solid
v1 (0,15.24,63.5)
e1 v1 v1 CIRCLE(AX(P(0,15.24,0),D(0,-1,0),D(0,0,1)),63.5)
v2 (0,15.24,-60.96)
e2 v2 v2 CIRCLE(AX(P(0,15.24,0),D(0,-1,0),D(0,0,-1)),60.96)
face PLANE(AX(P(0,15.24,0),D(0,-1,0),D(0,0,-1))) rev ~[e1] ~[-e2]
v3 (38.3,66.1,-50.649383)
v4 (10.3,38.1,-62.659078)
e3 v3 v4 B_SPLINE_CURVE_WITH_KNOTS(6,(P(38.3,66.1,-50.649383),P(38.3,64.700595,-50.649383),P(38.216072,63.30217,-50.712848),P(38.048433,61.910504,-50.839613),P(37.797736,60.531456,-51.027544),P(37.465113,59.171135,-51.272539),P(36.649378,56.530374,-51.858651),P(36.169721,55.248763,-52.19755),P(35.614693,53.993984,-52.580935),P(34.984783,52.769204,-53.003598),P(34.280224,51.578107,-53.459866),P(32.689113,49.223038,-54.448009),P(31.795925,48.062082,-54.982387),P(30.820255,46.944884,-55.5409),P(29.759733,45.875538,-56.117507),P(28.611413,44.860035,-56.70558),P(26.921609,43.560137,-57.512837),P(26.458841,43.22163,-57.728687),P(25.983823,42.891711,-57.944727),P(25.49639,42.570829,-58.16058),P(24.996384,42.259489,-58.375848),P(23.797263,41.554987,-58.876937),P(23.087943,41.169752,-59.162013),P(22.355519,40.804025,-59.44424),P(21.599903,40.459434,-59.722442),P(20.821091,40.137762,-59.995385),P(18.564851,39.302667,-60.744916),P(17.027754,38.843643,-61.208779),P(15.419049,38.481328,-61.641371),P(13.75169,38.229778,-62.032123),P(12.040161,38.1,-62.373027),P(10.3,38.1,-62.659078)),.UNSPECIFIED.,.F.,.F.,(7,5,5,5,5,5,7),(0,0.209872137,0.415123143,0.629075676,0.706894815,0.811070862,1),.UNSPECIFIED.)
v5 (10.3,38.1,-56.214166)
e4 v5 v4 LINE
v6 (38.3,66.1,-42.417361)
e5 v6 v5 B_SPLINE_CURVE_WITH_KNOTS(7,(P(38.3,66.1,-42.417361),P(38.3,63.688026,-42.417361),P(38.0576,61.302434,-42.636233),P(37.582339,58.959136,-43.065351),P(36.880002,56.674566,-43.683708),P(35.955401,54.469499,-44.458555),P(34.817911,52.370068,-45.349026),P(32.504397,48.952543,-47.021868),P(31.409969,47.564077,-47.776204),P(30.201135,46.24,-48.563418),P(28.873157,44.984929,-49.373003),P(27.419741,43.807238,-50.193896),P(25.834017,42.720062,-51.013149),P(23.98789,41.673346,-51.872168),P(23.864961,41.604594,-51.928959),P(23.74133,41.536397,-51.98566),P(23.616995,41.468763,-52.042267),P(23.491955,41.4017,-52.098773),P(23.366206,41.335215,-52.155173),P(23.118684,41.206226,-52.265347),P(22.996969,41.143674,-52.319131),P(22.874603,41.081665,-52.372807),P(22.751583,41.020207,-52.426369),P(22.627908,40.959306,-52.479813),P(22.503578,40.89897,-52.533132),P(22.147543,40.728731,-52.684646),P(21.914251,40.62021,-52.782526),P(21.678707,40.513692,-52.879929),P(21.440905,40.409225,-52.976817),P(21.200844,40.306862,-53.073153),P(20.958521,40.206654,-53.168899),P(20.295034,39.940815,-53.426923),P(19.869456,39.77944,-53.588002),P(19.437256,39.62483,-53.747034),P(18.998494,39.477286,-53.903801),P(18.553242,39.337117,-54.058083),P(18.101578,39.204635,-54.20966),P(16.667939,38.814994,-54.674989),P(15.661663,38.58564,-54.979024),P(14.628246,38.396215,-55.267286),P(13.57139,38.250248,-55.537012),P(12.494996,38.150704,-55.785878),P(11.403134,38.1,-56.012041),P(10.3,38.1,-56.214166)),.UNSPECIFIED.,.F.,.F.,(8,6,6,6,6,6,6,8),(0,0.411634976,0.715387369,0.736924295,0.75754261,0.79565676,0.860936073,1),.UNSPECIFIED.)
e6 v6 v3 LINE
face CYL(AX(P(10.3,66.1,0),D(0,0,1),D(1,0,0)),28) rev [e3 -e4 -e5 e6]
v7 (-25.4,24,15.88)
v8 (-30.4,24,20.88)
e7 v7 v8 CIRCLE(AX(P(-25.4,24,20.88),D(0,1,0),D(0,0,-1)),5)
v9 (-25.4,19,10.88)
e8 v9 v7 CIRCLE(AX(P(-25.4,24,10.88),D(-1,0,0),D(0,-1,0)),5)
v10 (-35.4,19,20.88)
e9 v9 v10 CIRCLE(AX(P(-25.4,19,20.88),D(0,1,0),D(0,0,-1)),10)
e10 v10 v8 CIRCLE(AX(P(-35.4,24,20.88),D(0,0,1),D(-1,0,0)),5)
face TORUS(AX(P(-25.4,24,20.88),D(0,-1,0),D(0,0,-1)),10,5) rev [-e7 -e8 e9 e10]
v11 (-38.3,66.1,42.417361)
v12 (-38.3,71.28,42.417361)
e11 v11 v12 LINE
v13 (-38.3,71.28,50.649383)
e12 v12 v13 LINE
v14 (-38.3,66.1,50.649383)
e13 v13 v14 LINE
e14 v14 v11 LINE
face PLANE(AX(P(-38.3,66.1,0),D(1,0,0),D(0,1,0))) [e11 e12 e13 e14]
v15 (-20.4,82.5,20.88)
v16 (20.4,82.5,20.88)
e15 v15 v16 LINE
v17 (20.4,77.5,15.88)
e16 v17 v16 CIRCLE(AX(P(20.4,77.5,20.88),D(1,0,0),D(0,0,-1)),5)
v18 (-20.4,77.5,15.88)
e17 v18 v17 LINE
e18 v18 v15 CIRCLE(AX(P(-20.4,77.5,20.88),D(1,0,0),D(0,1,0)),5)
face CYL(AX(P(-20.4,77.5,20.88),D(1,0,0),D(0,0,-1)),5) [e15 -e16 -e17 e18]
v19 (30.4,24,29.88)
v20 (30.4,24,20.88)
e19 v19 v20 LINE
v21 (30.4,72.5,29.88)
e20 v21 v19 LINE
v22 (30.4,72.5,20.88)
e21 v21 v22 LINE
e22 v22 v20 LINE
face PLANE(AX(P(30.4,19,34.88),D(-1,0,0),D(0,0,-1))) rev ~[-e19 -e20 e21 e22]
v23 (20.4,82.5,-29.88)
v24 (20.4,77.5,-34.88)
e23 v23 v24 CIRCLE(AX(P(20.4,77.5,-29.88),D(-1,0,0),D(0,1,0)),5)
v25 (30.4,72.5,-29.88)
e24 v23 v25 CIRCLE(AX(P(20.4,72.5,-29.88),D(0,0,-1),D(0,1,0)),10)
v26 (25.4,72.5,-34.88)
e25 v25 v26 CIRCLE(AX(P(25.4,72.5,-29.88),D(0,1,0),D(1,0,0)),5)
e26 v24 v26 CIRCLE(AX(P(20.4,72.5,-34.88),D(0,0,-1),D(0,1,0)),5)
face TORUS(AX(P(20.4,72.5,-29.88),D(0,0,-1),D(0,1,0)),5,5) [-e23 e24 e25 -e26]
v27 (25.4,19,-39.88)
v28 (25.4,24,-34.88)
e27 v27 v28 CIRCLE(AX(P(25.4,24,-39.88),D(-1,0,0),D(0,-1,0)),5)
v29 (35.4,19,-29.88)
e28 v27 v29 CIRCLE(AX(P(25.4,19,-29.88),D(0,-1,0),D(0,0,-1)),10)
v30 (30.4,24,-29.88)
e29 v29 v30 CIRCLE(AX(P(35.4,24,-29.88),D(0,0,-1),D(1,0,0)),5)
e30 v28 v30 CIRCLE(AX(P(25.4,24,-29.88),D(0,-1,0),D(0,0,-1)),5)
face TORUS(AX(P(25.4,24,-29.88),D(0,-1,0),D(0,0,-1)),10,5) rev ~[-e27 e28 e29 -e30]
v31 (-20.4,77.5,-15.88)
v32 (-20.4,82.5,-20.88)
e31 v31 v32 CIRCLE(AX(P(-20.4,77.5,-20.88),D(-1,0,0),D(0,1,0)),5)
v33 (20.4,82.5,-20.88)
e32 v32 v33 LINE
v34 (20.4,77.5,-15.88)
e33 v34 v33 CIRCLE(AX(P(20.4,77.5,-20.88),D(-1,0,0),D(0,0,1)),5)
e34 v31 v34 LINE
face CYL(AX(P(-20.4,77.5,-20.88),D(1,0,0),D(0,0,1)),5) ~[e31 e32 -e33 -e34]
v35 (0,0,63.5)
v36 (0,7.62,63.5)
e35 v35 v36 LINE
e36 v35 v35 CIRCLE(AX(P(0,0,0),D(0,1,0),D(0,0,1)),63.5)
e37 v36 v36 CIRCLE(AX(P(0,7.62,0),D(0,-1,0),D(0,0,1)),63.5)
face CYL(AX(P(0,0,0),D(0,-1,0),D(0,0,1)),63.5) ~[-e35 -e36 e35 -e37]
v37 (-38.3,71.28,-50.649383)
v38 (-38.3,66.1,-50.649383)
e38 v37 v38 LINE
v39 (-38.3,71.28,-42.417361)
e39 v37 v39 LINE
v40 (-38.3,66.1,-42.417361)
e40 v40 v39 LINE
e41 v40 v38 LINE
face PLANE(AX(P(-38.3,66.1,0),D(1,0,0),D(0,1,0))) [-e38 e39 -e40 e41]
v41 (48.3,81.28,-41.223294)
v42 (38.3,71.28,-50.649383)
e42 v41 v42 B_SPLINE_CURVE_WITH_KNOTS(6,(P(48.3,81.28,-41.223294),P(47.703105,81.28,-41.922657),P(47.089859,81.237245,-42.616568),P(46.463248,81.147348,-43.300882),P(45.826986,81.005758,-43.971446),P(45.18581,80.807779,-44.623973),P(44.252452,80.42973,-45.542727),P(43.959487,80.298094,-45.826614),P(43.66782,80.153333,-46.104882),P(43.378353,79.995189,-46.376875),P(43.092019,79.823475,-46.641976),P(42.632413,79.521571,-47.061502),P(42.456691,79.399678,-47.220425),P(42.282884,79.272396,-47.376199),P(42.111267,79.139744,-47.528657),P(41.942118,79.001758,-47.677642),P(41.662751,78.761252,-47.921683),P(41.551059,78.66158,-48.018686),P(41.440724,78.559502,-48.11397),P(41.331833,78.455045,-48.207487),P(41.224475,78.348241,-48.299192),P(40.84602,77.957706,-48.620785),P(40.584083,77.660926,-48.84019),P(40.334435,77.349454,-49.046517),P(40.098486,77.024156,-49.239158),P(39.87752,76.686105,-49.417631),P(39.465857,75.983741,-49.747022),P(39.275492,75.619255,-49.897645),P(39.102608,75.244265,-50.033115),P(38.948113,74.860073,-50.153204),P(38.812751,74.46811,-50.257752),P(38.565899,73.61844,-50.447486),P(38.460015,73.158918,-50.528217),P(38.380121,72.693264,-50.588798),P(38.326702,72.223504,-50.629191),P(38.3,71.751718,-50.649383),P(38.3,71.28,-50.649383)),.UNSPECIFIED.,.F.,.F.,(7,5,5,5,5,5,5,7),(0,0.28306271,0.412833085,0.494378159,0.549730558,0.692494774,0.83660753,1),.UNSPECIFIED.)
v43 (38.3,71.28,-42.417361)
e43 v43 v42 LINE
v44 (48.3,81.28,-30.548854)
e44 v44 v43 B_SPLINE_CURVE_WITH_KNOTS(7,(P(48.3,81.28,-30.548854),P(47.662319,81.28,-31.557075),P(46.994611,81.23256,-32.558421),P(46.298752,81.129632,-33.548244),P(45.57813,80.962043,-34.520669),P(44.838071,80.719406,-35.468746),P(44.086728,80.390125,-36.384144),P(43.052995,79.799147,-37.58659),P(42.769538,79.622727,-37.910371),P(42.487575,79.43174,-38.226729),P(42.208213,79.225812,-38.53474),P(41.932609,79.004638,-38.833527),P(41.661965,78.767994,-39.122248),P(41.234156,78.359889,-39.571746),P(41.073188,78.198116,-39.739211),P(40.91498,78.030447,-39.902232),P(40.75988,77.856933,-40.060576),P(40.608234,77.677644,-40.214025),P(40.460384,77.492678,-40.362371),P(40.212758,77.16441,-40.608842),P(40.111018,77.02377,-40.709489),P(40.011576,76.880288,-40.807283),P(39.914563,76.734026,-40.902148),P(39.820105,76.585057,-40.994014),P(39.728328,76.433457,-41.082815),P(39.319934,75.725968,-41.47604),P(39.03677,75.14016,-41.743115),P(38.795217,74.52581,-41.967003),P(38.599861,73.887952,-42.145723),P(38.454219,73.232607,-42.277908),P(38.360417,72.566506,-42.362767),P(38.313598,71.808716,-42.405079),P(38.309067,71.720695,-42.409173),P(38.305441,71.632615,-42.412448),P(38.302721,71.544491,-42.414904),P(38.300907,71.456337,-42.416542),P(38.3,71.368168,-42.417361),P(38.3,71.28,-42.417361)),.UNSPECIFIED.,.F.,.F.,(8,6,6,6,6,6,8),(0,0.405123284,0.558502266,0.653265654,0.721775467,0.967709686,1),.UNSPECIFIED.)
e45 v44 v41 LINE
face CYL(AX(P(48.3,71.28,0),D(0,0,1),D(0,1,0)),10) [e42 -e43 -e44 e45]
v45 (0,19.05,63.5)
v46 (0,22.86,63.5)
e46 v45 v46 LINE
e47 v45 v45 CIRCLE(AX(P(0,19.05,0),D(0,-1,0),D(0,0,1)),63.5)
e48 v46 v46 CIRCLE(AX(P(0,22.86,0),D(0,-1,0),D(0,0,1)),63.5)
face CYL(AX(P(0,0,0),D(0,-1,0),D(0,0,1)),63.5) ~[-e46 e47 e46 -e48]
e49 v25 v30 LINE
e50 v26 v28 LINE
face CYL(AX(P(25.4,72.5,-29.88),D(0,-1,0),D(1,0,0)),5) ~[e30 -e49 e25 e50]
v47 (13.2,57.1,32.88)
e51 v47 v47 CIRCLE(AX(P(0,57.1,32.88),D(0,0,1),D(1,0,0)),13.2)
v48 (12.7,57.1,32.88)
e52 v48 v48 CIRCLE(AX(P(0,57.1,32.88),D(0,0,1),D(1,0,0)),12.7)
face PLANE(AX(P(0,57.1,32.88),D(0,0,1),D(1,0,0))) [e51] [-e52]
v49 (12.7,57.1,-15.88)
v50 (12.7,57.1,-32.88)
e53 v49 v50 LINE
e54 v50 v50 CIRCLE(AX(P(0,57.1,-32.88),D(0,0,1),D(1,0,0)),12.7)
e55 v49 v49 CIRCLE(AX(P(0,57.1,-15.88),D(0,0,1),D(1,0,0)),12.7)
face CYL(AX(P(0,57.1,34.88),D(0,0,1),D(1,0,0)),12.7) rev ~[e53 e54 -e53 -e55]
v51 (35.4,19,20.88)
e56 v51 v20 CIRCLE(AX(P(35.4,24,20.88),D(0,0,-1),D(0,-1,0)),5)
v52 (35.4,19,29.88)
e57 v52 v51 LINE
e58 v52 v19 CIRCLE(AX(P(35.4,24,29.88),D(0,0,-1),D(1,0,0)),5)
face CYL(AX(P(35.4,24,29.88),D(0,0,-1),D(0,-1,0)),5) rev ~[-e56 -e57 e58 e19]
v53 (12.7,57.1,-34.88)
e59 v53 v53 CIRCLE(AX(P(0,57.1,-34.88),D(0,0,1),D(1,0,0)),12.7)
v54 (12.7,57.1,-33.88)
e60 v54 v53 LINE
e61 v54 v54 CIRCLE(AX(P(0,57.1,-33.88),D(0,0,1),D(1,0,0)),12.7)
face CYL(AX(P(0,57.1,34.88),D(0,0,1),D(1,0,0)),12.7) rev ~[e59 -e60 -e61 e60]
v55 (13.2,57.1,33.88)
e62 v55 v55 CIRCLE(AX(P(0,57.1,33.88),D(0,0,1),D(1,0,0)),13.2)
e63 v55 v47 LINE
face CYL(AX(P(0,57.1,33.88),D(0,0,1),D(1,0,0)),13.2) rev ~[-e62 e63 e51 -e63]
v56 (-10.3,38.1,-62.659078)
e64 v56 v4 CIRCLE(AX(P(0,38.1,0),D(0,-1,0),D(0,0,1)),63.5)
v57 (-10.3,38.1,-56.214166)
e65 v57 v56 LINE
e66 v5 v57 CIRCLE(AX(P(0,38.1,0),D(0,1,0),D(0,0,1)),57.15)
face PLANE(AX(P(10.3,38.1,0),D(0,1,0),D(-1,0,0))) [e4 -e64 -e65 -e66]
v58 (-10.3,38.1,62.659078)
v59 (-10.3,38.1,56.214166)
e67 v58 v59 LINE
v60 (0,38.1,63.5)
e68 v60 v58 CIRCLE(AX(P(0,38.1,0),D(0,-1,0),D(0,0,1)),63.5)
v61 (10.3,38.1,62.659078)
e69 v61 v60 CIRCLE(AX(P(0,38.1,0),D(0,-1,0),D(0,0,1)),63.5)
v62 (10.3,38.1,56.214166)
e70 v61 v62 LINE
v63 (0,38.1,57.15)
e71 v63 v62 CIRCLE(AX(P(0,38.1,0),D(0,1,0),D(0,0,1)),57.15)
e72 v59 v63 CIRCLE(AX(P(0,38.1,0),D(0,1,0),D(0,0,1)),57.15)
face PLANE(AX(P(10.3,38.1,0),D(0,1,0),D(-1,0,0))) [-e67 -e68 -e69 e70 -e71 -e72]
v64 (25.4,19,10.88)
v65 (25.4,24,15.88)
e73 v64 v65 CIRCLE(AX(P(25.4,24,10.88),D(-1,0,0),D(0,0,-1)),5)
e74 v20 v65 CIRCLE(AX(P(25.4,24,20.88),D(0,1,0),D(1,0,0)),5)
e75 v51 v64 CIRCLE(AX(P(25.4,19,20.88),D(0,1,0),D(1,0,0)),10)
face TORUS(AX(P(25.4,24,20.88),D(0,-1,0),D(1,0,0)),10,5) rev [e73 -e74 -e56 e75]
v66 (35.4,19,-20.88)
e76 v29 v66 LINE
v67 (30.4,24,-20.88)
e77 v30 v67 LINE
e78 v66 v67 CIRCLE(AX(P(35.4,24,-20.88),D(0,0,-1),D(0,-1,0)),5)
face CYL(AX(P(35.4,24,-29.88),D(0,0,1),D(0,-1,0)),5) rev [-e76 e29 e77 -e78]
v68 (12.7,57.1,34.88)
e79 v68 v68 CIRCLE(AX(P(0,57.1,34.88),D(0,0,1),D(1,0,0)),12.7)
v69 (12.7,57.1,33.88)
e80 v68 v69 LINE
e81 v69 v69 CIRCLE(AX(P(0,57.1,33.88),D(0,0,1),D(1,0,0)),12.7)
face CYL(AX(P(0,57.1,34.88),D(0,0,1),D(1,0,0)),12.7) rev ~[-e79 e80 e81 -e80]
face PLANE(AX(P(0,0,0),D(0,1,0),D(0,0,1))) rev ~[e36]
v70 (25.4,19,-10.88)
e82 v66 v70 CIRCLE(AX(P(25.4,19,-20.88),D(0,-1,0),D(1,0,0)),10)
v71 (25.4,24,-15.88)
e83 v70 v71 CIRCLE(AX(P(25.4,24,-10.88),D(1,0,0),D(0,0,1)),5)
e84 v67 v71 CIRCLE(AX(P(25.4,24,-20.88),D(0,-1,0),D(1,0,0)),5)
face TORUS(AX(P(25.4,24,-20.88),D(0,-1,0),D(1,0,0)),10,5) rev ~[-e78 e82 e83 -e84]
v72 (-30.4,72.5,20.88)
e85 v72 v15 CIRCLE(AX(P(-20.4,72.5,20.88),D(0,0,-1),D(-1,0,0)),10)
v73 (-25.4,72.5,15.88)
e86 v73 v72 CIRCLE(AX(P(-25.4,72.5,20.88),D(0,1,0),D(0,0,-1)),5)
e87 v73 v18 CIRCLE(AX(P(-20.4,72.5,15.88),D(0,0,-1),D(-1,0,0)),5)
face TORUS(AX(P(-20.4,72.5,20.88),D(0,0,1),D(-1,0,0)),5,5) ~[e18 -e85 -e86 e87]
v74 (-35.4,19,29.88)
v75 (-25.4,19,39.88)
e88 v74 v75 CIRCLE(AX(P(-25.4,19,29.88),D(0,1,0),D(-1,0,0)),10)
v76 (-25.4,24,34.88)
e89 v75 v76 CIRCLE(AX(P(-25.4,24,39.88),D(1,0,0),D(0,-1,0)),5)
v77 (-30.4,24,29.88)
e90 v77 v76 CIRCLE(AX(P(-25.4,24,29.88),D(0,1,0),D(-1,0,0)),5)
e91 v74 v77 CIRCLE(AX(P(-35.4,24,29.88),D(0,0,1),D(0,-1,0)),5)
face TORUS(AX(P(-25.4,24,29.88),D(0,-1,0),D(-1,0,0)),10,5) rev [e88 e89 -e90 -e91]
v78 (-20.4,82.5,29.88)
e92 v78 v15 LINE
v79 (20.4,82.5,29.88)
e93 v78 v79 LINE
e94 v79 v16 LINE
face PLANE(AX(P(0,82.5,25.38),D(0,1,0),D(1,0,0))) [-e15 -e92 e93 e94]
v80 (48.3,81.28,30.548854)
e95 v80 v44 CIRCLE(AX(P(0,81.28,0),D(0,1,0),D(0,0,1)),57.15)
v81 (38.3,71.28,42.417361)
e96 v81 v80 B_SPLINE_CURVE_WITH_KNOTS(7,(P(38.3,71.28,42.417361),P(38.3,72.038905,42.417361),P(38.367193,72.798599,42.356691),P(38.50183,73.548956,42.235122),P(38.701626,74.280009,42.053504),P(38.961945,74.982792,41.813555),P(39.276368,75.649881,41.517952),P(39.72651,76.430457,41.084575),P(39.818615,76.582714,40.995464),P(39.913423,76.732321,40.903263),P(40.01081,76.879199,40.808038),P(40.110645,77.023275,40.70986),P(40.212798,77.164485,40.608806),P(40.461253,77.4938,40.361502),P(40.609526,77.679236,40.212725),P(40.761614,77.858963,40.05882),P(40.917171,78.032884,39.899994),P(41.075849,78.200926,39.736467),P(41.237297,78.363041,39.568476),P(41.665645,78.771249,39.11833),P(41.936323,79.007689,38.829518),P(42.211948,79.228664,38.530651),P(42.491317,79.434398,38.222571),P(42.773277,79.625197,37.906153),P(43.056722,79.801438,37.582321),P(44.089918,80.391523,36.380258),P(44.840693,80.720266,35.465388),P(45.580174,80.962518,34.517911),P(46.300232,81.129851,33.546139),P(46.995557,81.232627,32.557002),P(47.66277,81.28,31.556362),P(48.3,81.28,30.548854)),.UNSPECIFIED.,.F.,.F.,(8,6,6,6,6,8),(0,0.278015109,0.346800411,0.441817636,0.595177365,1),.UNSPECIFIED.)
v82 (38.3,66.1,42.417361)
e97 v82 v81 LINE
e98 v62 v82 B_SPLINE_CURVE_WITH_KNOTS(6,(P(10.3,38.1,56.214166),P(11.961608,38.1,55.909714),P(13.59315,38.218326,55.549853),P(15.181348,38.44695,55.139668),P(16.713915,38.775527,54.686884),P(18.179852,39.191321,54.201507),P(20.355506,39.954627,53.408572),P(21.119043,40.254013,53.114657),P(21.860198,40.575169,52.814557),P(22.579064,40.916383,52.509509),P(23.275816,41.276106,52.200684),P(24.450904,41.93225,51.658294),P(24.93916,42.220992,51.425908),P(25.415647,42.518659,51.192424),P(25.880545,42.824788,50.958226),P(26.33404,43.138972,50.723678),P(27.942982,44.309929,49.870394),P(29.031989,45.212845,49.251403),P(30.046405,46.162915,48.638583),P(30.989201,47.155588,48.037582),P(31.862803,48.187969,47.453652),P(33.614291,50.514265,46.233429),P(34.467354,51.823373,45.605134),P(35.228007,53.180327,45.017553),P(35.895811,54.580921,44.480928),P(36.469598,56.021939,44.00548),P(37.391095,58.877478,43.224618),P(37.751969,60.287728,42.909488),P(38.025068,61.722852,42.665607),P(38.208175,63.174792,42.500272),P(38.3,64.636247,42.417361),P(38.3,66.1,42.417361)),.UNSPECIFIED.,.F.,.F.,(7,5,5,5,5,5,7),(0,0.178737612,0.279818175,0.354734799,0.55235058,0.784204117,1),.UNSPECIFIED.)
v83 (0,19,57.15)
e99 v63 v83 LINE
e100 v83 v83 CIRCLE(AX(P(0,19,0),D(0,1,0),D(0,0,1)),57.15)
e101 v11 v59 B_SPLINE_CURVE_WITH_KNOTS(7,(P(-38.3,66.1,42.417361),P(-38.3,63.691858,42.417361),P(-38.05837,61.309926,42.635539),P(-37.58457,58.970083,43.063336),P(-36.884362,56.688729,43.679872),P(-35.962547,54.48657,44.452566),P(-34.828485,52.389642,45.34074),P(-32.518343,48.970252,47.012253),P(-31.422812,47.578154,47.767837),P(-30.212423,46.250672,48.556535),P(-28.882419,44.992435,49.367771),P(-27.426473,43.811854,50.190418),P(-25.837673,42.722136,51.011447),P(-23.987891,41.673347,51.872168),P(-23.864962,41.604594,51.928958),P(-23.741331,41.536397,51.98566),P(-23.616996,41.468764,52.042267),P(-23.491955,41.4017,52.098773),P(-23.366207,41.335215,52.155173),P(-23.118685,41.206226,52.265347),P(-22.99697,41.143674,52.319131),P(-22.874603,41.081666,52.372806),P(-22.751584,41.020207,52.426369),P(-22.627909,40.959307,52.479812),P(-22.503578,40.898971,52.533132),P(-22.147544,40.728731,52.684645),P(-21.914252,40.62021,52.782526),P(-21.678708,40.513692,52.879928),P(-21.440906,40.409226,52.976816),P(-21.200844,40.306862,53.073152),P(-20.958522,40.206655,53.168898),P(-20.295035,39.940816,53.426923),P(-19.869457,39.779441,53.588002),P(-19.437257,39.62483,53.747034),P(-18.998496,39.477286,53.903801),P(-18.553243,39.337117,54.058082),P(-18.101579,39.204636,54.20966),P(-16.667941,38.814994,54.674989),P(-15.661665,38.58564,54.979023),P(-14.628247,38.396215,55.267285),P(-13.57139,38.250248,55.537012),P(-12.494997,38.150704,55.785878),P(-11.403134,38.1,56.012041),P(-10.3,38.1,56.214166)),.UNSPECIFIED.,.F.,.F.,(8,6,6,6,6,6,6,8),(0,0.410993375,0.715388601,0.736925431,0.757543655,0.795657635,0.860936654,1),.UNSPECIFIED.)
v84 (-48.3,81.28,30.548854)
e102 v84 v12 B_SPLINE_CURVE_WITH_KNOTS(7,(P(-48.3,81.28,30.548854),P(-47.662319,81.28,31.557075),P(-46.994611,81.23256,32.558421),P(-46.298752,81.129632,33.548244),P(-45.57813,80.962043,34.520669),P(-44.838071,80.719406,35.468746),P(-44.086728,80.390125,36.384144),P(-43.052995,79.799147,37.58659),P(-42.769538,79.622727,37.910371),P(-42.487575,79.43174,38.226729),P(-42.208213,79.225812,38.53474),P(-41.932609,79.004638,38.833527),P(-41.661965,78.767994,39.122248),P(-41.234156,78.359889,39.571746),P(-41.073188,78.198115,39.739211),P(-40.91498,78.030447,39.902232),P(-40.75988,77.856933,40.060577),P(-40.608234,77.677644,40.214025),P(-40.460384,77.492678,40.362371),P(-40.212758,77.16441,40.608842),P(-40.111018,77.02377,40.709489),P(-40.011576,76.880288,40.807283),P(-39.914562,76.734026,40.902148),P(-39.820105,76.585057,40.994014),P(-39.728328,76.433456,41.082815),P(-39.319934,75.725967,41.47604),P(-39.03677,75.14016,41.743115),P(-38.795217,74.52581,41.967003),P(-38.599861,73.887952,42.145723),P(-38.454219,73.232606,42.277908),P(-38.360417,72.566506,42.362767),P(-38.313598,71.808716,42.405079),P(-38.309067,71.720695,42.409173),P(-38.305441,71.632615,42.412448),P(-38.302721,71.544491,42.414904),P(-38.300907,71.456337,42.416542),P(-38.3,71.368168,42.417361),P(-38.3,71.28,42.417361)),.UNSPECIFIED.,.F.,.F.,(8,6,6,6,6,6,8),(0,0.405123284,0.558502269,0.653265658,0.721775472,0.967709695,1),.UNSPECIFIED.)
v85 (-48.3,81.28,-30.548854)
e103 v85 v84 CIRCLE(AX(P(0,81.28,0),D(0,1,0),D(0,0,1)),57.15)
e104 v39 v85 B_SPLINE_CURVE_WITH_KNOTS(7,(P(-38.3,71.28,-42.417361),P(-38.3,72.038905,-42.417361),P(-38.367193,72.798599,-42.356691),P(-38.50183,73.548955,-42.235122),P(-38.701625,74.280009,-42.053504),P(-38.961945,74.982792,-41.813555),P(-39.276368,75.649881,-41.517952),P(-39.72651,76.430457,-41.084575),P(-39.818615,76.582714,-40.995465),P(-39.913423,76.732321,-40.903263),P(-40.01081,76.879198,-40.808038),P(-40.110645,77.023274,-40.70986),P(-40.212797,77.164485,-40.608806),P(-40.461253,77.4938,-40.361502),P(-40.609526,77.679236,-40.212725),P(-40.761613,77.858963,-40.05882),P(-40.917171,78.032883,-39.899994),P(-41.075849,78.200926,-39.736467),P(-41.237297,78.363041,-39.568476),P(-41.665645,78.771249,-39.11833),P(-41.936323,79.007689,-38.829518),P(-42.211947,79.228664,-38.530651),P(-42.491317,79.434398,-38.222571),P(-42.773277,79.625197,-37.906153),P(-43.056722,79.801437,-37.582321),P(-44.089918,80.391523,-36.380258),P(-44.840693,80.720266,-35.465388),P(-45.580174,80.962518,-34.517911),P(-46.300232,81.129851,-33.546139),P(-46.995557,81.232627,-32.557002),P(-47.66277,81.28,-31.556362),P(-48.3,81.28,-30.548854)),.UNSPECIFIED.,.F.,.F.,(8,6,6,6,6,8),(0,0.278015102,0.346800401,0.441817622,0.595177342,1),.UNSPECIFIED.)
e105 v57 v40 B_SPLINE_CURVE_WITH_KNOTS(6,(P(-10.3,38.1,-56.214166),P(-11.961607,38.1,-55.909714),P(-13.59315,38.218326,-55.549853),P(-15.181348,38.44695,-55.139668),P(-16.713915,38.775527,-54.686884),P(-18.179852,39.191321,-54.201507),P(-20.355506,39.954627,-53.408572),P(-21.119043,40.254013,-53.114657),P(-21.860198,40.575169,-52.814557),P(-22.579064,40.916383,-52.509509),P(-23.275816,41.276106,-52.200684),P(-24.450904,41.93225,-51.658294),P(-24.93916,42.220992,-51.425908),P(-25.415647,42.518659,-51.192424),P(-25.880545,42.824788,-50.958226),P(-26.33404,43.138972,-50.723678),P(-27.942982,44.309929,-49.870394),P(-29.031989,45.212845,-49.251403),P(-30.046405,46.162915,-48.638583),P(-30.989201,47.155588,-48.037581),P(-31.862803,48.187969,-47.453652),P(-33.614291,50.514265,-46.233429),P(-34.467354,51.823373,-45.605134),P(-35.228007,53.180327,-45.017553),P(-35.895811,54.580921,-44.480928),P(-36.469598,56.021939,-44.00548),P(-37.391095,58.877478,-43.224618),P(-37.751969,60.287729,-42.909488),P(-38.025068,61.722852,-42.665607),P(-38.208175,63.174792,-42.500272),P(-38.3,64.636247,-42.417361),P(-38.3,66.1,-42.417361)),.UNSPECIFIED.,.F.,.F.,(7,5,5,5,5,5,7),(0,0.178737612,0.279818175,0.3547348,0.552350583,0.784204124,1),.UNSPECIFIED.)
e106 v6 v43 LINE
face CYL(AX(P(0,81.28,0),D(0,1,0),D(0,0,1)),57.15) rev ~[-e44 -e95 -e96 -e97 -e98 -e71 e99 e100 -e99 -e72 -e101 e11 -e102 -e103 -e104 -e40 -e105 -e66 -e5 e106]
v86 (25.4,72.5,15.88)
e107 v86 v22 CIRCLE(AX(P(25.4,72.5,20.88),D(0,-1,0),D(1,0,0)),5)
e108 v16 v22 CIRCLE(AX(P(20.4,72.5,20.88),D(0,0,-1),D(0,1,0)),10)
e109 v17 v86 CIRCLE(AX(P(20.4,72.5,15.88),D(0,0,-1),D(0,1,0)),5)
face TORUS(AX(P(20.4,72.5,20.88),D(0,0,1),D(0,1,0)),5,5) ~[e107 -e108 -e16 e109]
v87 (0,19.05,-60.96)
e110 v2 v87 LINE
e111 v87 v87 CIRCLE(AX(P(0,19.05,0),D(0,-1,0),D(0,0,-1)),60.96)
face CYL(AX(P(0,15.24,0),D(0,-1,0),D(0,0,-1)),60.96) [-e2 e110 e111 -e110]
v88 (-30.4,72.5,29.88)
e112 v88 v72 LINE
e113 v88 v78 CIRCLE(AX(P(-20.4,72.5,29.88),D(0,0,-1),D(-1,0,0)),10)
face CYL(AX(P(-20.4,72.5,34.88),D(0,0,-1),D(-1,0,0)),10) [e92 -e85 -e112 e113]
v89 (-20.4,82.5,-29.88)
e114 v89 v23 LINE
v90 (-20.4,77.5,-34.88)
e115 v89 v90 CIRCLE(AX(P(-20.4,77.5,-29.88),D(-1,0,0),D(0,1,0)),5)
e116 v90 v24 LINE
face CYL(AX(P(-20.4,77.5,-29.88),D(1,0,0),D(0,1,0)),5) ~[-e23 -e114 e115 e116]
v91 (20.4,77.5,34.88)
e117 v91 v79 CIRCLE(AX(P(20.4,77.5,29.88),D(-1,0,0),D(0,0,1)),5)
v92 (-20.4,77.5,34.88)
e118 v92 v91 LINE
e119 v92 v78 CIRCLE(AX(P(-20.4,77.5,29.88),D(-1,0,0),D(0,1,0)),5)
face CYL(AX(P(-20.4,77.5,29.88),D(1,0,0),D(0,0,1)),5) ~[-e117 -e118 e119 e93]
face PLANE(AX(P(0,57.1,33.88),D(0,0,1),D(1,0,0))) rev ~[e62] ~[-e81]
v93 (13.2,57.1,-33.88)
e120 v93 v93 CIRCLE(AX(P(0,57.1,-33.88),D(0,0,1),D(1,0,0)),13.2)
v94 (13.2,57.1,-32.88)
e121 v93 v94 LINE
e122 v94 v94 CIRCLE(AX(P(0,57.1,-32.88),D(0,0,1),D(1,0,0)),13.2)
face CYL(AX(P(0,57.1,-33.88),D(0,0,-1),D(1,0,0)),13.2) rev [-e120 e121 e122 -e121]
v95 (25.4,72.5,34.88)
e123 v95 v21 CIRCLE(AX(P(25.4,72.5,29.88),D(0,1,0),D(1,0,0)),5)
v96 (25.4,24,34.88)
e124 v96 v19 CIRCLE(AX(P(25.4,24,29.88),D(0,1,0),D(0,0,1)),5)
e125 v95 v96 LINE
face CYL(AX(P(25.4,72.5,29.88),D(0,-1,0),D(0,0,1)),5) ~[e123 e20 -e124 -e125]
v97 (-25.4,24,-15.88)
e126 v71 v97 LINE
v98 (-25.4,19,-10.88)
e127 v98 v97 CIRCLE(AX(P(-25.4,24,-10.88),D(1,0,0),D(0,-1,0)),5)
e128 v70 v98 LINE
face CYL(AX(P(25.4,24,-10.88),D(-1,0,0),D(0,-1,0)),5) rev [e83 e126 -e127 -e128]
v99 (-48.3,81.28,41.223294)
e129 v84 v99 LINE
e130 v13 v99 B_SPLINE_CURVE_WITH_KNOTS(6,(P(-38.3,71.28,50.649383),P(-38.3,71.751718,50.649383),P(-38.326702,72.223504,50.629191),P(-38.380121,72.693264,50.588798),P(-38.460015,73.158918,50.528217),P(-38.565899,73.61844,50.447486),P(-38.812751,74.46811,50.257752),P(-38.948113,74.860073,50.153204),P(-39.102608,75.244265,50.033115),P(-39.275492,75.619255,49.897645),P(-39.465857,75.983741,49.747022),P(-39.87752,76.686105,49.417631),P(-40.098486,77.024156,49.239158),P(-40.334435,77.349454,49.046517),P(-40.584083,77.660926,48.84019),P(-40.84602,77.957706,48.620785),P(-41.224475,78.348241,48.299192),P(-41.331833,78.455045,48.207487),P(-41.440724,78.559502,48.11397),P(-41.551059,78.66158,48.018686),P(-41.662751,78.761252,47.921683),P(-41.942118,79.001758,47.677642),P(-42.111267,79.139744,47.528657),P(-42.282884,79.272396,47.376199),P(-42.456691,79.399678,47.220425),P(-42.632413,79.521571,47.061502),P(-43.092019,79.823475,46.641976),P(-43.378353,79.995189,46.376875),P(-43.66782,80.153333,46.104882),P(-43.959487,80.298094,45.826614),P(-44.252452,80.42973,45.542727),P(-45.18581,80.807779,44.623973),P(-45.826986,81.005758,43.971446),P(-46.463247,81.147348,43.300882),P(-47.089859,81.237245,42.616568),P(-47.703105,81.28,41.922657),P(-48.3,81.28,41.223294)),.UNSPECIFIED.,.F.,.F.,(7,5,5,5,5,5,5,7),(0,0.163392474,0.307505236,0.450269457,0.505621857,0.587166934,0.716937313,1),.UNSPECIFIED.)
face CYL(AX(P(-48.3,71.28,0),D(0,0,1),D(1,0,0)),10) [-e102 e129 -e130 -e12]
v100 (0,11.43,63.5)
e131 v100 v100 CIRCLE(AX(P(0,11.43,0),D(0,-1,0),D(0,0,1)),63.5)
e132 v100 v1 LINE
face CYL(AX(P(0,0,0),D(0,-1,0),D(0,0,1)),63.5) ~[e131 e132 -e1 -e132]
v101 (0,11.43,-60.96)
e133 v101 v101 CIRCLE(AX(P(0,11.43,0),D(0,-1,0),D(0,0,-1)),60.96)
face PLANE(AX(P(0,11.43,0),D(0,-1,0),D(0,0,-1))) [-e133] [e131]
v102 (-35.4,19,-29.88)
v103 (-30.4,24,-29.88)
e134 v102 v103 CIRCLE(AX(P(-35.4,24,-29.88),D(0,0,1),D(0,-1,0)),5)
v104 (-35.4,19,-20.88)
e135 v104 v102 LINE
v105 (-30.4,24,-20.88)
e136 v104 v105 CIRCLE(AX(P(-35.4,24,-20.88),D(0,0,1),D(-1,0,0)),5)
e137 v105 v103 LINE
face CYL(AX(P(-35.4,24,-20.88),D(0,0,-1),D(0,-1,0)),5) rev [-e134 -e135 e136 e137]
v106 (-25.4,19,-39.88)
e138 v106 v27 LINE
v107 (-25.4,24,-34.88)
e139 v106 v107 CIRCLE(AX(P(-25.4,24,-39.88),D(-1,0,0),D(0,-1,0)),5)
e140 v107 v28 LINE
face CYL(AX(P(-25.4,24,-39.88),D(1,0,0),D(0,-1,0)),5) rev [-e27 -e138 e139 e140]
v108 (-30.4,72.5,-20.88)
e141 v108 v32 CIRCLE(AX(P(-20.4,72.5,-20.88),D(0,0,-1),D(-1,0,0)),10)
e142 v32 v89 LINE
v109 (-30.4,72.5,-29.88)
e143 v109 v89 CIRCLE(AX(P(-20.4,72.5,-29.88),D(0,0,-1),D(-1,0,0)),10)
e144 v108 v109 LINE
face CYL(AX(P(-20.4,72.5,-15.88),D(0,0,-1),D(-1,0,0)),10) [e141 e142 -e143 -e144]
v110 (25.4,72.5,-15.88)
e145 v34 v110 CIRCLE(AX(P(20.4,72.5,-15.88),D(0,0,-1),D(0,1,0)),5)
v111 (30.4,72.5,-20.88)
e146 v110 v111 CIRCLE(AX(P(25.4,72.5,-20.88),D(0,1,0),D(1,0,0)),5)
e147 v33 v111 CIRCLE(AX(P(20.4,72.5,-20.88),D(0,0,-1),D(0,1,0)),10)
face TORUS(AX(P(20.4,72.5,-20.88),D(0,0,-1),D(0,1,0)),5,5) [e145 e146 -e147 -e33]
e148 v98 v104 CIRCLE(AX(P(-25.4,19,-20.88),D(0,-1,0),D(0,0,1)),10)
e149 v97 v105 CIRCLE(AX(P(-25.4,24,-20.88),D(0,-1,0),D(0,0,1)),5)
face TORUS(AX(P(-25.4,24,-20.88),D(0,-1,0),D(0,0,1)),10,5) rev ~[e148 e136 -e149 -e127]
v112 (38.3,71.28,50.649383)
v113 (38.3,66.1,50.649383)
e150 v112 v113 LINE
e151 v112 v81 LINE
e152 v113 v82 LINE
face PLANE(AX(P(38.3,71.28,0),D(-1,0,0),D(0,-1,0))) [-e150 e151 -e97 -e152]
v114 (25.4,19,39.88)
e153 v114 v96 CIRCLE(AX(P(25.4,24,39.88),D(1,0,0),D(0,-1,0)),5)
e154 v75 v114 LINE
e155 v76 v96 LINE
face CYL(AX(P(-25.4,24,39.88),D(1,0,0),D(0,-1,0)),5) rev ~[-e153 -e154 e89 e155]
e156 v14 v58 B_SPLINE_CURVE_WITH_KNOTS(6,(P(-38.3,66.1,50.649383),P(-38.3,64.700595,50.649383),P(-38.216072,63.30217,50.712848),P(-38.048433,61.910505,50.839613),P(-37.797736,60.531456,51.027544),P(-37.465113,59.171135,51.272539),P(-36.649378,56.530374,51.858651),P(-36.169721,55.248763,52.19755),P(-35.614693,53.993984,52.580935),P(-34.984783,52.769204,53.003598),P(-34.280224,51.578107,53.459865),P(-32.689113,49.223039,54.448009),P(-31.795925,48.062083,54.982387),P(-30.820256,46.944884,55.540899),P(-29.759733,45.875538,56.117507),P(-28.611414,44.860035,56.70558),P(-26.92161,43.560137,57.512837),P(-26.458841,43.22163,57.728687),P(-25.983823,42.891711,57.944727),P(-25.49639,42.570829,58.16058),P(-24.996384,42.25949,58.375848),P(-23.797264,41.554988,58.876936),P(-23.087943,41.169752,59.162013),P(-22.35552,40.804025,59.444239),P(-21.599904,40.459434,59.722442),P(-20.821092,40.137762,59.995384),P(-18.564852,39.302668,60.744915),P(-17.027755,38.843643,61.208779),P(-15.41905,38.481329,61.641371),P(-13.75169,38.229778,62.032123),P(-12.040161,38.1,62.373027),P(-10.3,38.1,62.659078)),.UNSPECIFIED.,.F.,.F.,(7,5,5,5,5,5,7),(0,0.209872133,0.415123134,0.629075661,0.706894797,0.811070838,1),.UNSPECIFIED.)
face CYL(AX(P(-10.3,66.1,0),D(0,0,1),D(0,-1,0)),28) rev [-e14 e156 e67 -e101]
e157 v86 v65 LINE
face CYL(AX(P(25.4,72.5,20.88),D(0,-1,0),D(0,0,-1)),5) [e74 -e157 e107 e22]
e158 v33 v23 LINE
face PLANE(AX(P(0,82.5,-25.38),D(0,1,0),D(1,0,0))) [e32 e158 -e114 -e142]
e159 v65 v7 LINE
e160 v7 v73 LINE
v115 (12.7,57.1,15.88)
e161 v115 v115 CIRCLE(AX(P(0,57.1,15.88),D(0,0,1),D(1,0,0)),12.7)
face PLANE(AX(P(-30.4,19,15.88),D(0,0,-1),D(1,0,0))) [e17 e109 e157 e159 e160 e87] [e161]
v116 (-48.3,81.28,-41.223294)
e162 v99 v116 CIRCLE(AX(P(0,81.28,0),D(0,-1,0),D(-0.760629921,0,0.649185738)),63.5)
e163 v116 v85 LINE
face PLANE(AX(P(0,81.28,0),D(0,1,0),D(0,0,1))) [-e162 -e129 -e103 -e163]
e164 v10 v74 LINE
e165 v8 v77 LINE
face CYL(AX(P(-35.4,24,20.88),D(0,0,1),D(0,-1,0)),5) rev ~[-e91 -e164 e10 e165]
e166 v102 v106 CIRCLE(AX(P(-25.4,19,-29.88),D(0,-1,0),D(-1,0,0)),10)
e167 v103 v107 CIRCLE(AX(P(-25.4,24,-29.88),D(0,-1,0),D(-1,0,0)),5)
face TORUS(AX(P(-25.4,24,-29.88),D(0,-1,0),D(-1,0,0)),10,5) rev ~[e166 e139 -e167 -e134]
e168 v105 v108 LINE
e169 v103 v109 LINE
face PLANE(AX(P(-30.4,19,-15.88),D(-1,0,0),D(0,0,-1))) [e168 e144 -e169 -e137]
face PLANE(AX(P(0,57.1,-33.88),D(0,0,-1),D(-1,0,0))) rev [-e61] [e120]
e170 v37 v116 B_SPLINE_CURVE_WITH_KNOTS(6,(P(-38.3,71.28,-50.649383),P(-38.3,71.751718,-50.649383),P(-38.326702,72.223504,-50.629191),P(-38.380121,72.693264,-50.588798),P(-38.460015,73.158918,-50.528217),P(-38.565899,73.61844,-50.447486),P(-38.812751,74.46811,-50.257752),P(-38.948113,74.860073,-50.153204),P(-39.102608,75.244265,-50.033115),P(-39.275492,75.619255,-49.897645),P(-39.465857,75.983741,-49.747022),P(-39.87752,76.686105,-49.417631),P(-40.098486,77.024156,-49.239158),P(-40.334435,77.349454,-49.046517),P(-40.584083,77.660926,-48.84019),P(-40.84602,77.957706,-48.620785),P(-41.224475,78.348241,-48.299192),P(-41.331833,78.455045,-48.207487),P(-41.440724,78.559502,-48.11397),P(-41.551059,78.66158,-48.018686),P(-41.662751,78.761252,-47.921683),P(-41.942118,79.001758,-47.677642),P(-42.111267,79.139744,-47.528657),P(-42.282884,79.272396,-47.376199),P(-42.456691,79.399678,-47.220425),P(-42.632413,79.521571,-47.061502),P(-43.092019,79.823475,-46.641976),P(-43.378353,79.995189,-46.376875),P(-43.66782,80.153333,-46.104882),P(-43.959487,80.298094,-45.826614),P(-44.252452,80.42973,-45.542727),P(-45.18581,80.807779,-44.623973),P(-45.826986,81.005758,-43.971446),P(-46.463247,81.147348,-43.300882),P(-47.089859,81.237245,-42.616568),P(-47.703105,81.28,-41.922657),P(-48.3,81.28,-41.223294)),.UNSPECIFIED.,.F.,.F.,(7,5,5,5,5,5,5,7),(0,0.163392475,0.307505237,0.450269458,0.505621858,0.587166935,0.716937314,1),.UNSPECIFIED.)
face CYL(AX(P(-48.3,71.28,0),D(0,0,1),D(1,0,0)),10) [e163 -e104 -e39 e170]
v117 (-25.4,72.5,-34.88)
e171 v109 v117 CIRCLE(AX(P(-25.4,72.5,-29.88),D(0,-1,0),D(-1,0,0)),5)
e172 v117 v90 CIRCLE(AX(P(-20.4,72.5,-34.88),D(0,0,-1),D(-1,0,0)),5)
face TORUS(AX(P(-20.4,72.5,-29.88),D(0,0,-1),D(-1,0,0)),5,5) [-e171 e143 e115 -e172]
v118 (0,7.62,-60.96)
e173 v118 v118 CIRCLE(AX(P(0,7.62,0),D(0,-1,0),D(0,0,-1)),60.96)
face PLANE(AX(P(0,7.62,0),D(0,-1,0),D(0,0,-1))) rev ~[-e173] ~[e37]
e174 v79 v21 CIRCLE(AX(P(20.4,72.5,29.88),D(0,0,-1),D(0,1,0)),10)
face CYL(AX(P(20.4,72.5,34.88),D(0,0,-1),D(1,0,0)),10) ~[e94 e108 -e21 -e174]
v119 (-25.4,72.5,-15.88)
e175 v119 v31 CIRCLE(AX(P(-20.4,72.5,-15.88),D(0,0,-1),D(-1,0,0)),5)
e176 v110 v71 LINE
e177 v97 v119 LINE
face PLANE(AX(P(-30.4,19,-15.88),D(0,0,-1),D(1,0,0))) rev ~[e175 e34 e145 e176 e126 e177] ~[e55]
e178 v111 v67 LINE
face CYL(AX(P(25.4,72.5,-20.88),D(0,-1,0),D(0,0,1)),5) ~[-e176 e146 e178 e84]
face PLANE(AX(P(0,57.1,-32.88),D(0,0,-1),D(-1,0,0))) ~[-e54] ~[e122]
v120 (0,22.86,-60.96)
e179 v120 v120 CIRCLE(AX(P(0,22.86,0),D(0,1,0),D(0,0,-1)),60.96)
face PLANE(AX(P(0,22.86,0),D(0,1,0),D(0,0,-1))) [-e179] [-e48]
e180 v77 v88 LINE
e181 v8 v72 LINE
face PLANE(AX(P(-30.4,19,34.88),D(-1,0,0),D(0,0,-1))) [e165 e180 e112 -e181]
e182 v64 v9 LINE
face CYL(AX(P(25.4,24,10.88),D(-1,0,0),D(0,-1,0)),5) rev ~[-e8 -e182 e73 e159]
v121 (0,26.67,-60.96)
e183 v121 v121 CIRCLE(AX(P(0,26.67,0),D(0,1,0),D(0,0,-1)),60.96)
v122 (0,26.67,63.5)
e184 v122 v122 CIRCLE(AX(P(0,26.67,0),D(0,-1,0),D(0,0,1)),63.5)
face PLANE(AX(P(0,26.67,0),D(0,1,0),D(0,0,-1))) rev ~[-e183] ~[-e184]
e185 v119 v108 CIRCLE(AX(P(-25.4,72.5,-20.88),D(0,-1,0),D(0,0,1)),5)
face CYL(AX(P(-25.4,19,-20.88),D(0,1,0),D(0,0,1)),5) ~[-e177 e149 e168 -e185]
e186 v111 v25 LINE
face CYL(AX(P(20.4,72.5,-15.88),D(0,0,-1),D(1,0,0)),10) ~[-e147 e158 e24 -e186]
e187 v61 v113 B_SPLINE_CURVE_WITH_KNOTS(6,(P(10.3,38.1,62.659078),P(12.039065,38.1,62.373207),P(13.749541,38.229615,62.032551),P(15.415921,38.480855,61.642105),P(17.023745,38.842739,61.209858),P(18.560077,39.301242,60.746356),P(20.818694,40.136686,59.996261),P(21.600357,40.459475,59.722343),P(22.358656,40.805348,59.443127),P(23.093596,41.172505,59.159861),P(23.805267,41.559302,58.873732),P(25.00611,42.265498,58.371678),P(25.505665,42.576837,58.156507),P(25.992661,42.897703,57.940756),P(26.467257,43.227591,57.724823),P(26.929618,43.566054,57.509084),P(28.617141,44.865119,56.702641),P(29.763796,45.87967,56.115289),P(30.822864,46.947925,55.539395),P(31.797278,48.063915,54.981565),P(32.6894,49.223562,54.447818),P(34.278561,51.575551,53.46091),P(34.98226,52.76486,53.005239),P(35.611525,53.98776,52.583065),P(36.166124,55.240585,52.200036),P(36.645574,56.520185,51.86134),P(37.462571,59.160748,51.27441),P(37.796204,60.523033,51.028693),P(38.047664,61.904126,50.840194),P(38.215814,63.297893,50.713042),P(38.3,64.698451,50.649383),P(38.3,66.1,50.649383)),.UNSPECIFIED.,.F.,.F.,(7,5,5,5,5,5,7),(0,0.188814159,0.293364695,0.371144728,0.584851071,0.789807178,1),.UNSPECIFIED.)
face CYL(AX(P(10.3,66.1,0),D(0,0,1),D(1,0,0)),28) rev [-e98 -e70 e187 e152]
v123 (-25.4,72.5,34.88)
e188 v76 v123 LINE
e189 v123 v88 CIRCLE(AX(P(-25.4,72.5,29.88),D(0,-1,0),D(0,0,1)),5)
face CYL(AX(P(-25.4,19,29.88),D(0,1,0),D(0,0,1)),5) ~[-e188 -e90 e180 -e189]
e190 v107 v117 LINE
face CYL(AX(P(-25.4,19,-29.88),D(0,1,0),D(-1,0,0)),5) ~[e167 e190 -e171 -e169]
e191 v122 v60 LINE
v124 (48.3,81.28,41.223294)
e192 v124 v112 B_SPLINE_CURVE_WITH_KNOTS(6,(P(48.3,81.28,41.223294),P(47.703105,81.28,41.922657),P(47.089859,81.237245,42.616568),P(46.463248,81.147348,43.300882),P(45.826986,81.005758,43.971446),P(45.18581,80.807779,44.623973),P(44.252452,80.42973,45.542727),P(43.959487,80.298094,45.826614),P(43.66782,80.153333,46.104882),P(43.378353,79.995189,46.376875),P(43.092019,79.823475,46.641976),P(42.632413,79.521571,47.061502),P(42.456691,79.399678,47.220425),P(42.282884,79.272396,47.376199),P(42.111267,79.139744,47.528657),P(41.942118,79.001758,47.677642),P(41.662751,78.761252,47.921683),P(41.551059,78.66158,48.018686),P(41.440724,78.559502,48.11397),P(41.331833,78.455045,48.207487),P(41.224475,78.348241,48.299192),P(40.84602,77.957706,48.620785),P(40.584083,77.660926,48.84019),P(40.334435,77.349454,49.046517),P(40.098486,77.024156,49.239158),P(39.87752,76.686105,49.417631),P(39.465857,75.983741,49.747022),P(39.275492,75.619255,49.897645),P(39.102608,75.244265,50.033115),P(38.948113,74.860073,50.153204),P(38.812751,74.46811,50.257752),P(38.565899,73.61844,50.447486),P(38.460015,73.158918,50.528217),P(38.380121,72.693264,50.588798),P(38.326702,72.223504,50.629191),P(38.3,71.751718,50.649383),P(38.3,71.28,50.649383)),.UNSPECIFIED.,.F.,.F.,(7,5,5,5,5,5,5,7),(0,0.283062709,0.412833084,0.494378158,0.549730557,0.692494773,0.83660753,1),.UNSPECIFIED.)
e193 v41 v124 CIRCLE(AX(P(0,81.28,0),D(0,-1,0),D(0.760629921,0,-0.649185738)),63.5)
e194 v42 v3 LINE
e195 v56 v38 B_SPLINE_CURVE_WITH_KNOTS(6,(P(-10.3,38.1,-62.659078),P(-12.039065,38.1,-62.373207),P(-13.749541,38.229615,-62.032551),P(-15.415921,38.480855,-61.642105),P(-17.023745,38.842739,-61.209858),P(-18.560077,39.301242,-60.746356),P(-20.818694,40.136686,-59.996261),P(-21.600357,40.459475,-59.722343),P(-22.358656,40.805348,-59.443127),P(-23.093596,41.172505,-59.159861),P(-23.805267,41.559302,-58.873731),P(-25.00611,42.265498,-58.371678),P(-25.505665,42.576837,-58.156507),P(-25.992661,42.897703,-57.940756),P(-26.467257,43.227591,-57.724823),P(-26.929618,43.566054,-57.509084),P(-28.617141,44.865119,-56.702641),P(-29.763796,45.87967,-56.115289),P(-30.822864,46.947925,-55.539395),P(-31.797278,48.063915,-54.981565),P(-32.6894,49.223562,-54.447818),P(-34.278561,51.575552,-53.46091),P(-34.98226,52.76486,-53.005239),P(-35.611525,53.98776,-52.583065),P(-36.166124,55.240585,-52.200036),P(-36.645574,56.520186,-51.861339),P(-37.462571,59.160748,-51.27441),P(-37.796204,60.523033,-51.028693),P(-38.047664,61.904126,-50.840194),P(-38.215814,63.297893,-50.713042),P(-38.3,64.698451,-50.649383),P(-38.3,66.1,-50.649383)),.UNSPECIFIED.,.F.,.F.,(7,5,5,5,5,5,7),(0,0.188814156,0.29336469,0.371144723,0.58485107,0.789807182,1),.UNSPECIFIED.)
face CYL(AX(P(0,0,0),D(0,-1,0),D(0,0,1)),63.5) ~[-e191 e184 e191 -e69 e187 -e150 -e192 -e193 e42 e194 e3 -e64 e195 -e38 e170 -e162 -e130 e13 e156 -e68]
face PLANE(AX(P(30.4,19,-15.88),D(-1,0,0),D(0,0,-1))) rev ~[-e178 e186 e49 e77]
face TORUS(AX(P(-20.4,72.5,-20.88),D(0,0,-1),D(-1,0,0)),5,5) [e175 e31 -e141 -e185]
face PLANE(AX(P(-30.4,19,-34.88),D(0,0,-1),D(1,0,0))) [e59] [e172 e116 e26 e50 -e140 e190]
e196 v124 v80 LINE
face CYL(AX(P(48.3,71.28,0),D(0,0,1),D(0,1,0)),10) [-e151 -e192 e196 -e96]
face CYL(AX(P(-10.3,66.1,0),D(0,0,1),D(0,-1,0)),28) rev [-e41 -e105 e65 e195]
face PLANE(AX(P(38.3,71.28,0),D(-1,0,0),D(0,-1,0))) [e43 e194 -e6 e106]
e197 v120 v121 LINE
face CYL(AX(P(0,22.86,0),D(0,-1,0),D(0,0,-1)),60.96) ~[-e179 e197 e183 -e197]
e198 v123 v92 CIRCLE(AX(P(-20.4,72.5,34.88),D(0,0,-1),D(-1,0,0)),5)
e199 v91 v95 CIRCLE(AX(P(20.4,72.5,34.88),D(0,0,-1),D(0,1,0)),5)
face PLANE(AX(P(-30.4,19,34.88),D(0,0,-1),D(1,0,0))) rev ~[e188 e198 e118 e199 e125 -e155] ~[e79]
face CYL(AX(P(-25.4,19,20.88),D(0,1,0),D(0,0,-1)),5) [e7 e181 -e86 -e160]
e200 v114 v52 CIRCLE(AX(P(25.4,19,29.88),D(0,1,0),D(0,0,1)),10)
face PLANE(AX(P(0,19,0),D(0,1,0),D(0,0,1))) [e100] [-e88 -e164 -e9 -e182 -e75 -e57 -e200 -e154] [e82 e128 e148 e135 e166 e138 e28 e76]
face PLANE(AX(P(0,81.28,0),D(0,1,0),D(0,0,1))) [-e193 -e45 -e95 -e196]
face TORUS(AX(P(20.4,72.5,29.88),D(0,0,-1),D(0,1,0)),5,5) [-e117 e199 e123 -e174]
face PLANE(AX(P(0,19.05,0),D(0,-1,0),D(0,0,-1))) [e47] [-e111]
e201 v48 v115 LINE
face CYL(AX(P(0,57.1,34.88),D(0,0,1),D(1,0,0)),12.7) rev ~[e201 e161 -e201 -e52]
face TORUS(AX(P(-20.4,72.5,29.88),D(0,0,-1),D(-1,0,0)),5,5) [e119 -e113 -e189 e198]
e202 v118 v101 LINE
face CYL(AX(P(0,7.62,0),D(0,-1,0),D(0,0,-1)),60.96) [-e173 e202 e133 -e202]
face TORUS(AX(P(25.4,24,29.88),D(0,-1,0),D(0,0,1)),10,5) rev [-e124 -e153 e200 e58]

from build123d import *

# Parameters (mm, degrees)
SZKIC1_R                    = 63.5
DODANIE_WYCI_GNI_CIE2_DEPTH = 81.28
SZKIC2_R                    = 57.15
WYTNIJ_WYCI_GNI_CIE1_DEPTH  = 62.28
WYTNIJ_WYCI_GNI_CIE2_DEPTH  = 100
WYTNIJ_WYCI_GNI_CIE3_START  = -7.62
SZKIC5_R                    = 63.5
SZKIC5_R_2                  = 60.96
WYTNIJ_WYCI_GNI_CIE3_DEPTH  = 3.81
WYTNIJ_WYCI_GNI_CIE5_START  = -3.81
SZKIC6_R                    = 63.5
SZKIC6_R_2                  = 60.96
WYTNIJ_WYCI_GNI_CIE5_DEPTH  = 3.81
WYTNIJ_WYCI_GNI_CIE6_START  = 7.62
SZKIC7_R                    = 63.5
SZKIC7_R_2                  = 60.96
WYTNIJ_WYCI_GNI_CIE6_DEPTH  = 3.81
SZKIC8_W                    = 60.8
SZKIC8_H                    = 19
DODANIE_WYCI_GNI_CIE3_DEPTH = 63.5
SZKIC9_R                    = 12.7
WYTNIJ_WYCI_GNI_CIE7_DEPTH  = 144.237999261
ZAOKR_GLENIE3_R             = 10
ZAOKR_GLENIE4_R             = 5
ZAOKR_GLENIE5_R             = 5
WYTNIJ_WYCI_GNI_CIE8_START  = -1
SZKIC10_R                   = 13.2
SZKIC10_R_2                 = 12.7
WYTNIJ_WYCI_GNI_CIE8_DEPTH  = 1


with BuildPart() as part:
    # Szkic1 → Dodanie-wyciągnięcie2 (new body)
    with BuildSketch(Plane(origin=(0, 0, 0), x_dir=(1, 0, 0), z_dir=(0, 1, 0))):
        with Locations(Location((0, 0, 0), (0, 0, 270))):
            Circle(SZKIC1_R)
    extrude(amount=DODANIE_WYCI_GNI_CIE2_DEPTH)

    # Szkic2 → Wytnij-wyciągnięcie1 (cut)
    with BuildSketch(Plane(origin=(0, 81.28, 0), x_dir=(1, 0, 0), z_dir=(0, 1, 0))):
        with Locations(Location((0, 0, 0), (0, 0, 270))):
            Circle(SZKIC2_R)
    extrude(amount=-WYTNIJ_WYCI_GNI_CIE1_DEPTH, mode=Mode.SUBTRACT)

    # Szkic3 → Wytnij-wyciągnięcie2 (cut, symmetric)
    with BuildSketch(Plane.XY):
        with BuildLine():
            Line((-63.5, 81.28), (-63.5, 87.00412987))
            Line((-63.5, 87.00412987), (63.5, 87.00412987))
            Line((63.5, 87.00412987), (63.5, 81.28))
            Line((63.5, 81.28), (48.3, 81.28))
            ThreePointArc((48.3, 81.28), (41.228932188, 78.351067812), (38.3, 71.28))
            Line((38.3, 71.28), (38.3, 66.1))
            ThreePointArc((38.3, 66.1), (30.098989873, 46.301010127), (10.3, 38.1))
            Line((10.3, 38.1), (-10.3, 38.1))
            ThreePointArc((-10.3, 38.1), (-30.098989873, 46.301010127), (-38.3, 66.1))
            Line((-38.3, 66.1), (-38.3, 71.28))
            ThreePointArc((-38.3, 71.28), (-41.228932188, 78.351067812), (-48.3, 81.28))
            Line((-48.3, 81.28), (-63.5, 81.28))
        make_face()
    extrude(amount=WYTNIJ_WYCI_GNI_CIE2_DEPTH, both=True, mode=Mode.SUBTRACT)

    # Szkic5 → Wytnij-wyciągnięcie3 (cut)
    with BuildSketch(Plane(origin=(0, 0, 0), x_dir=(-1, 0, 0), z_dir=(0, -1, 0)).offset(WYTNIJ_WYCI_GNI_CIE3_START)):
        with Locations(Location((0, 0, 0), (0, 0, 90))):
            Circle(SZKIC5_R)
        with Locations(Location((0, 0, 0), (0, 0, 90))):
            Circle(SZKIC5_R_2, mode=Mode.SUBTRACT)
    extrude(amount=-WYTNIJ_WYCI_GNI_CIE3_DEPTH, mode=Mode.SUBTRACT)

    # Szkic6 → Wytnij-wyciągnięcie5 (cut)
    with BuildSketch(Plane(origin=(0, 11.43, 0), x_dir=(-1, 0, 0), z_dir=(0, -1, 0)).offset(WYTNIJ_WYCI_GNI_CIE5_START)):
        with Locations(Location((0, 0, 0), (0, 0, 90))):
            Circle(SZKIC6_R)
        with Locations(Location((0, 0, 0), (0, 0, 90))):
            Circle(SZKIC6_R_2, mode=Mode.SUBTRACT)
    extrude(amount=-WYTNIJ_WYCI_GNI_CIE5_DEPTH, mode=Mode.SUBTRACT)

    # Szkic7 → Wytnij-wyciągnięcie6 (cut)
    with BuildSketch(Plane(origin=(0, 15.24, 0), x_dir=(1, 0, 0), z_dir=(0, 1, 0)).offset(WYTNIJ_WYCI_GNI_CIE6_START)):
        with Locations(Location((0, 0, 0), (0, 0, 90))):
            Circle(SZKIC7_R)
        with Locations(Location((0, 0, 0), (0, 0, 90))):
            Circle(SZKIC7_R_2, mode=Mode.SUBTRACT)
    extrude(amount=WYTNIJ_WYCI_GNI_CIE6_DEPTH, mode=Mode.SUBTRACT)

    # Szkic8 → Dodanie-wyciągnięcie3 (add)
    with BuildSketch(Plane(origin=(0, 19, 0), x_dir=(1, 0, 0), z_dir=(0, 1, 0))):
        with Locations((0, 25.38)):
            Rectangle(SZKIC8_W, SZKIC8_H)
        with Locations((0, -25.38)):
            Rectangle(SZKIC8_W, SZKIC8_H)
    extrude(amount=DODANIE_WYCI_GNI_CIE3_DEPTH)

    # Szkic9 → Wytnij-wyciągnięcie7 (cut, through all)
    with BuildSketch(Plane.XY.offset(34.88)):
        with Locations((0, 57.1)):
            Circle(SZKIC9_R)
    extrude(amount=-WYTNIJ_WYCI_GNI_CIE7_DEPTH, mode=Mode.SUBTRACT)

    # Zaokrąglenie3
    zaokr_glenie3_edges = [part.edges().sort_by_distance(p)[0] for p in [
        (30.4, 82.5, -25.38),
        (-30.4, 82.5, -25.38),
        (30.4, 82.5, 25.38),
        (-30.4, 82.5, 25.38),
    ]]
    fillet(zaokr_glenie3_edges, radius=ZAOKR_GLENIE3_R)

    # Zaokrąglenie4
    zaokr_glenie4_edges = [part.edges().sort_by_distance(p)[0] for p in [
        (0, 82.5, -34.88),
        (0, 82.5, -15.88),
        (30.4, 45.75, -15.88),
        (-30.4, 45.75, -15.88),
        (27.471067812, 79.571067812, -15.88),
        (-27.471067812, 79.571067812, -15.88),
        (-30.4, 45.75, -34.88),
        (30.4, 45.75, -34.88),
        (27.471067812, 79.571067812, -34.88),
        (-27.471067812, 79.571067812, -34.88),
        (0, 82.5, 15.88),
        (0, 82.5, 34.88),
        (-30.4, 45.75, 15.88),
        (30.4, 45.75, 15.88),
        (-27.471067812, 79.571067812, 15.88),
        (27.471067812, 79.571067812, 15.88),
        (30.4, 45.75, 34.88),
        (-30.4, 45.75, 34.88),
        (-27.471067812, 79.571067812, 34.88),
        (27.471067812, 79.571067812, 34.88),
    ]]
    fillet(zaokr_glenie4_edges, radius=ZAOKR_GLENIE4_R)

    # Zaokrąglenie5
    zaokr_glenie5_edges = [part.edges().sort_by_distance(p)[0] for p in [
        (0, 19, -34.88),
        (30.4, 19, -25.38),
        (-30.4, 19, -25.38),
        (0, 19, -15.88),
        (0, 19, 34.88),
        (-30.4, 19, 25.38),
        (30.4, 19, 25.38),
        (0, 19, 15.88),
        (28.935533906, 19, -33.415533906),
        (-28.935533906, 19, -33.415533906),
        (-28.935533906, 19, -17.344466094),
        (28.935533906, 19, -17.344466094),
        (-28.935533906, 19, 33.415533906),
        (28.935533906, 19, 33.415533906),
        (28.935533906, 19, 17.344466094),
        (-28.935533906, 19, 17.344466094),
    ]]
    fillet(zaokr_glenie5_edges, radius=ZAOKR_GLENIE5_R)

    # Szkic10 → Wytnij-wyciągnięcie8 (cut)
    with BuildSketch(Plane.XY.offset(34.88).offset(WYTNIJ_WYCI_GNI_CIE8_START)):
        with Locations((0, 57.1)):
            Circle(SZKIC10_R)
        with Locations((0, 57.1)):
            Circle(SZKIC10_R_2, mode=Mode.SUBTRACT)
    wytnij_wyci_gni_cie8 = extrude(amount=-WYTNIJ_WYCI_GNI_CIE8_DEPTH, mode=Mode.SUBTRACT)

    # Lustro1: Wytnij-wyciągnięcie8 across plane
    add(wytnij_wyci_gni_cie8.mirror(Plane.XY), mode=Mode.SUBTRACT)


solid = part.part
